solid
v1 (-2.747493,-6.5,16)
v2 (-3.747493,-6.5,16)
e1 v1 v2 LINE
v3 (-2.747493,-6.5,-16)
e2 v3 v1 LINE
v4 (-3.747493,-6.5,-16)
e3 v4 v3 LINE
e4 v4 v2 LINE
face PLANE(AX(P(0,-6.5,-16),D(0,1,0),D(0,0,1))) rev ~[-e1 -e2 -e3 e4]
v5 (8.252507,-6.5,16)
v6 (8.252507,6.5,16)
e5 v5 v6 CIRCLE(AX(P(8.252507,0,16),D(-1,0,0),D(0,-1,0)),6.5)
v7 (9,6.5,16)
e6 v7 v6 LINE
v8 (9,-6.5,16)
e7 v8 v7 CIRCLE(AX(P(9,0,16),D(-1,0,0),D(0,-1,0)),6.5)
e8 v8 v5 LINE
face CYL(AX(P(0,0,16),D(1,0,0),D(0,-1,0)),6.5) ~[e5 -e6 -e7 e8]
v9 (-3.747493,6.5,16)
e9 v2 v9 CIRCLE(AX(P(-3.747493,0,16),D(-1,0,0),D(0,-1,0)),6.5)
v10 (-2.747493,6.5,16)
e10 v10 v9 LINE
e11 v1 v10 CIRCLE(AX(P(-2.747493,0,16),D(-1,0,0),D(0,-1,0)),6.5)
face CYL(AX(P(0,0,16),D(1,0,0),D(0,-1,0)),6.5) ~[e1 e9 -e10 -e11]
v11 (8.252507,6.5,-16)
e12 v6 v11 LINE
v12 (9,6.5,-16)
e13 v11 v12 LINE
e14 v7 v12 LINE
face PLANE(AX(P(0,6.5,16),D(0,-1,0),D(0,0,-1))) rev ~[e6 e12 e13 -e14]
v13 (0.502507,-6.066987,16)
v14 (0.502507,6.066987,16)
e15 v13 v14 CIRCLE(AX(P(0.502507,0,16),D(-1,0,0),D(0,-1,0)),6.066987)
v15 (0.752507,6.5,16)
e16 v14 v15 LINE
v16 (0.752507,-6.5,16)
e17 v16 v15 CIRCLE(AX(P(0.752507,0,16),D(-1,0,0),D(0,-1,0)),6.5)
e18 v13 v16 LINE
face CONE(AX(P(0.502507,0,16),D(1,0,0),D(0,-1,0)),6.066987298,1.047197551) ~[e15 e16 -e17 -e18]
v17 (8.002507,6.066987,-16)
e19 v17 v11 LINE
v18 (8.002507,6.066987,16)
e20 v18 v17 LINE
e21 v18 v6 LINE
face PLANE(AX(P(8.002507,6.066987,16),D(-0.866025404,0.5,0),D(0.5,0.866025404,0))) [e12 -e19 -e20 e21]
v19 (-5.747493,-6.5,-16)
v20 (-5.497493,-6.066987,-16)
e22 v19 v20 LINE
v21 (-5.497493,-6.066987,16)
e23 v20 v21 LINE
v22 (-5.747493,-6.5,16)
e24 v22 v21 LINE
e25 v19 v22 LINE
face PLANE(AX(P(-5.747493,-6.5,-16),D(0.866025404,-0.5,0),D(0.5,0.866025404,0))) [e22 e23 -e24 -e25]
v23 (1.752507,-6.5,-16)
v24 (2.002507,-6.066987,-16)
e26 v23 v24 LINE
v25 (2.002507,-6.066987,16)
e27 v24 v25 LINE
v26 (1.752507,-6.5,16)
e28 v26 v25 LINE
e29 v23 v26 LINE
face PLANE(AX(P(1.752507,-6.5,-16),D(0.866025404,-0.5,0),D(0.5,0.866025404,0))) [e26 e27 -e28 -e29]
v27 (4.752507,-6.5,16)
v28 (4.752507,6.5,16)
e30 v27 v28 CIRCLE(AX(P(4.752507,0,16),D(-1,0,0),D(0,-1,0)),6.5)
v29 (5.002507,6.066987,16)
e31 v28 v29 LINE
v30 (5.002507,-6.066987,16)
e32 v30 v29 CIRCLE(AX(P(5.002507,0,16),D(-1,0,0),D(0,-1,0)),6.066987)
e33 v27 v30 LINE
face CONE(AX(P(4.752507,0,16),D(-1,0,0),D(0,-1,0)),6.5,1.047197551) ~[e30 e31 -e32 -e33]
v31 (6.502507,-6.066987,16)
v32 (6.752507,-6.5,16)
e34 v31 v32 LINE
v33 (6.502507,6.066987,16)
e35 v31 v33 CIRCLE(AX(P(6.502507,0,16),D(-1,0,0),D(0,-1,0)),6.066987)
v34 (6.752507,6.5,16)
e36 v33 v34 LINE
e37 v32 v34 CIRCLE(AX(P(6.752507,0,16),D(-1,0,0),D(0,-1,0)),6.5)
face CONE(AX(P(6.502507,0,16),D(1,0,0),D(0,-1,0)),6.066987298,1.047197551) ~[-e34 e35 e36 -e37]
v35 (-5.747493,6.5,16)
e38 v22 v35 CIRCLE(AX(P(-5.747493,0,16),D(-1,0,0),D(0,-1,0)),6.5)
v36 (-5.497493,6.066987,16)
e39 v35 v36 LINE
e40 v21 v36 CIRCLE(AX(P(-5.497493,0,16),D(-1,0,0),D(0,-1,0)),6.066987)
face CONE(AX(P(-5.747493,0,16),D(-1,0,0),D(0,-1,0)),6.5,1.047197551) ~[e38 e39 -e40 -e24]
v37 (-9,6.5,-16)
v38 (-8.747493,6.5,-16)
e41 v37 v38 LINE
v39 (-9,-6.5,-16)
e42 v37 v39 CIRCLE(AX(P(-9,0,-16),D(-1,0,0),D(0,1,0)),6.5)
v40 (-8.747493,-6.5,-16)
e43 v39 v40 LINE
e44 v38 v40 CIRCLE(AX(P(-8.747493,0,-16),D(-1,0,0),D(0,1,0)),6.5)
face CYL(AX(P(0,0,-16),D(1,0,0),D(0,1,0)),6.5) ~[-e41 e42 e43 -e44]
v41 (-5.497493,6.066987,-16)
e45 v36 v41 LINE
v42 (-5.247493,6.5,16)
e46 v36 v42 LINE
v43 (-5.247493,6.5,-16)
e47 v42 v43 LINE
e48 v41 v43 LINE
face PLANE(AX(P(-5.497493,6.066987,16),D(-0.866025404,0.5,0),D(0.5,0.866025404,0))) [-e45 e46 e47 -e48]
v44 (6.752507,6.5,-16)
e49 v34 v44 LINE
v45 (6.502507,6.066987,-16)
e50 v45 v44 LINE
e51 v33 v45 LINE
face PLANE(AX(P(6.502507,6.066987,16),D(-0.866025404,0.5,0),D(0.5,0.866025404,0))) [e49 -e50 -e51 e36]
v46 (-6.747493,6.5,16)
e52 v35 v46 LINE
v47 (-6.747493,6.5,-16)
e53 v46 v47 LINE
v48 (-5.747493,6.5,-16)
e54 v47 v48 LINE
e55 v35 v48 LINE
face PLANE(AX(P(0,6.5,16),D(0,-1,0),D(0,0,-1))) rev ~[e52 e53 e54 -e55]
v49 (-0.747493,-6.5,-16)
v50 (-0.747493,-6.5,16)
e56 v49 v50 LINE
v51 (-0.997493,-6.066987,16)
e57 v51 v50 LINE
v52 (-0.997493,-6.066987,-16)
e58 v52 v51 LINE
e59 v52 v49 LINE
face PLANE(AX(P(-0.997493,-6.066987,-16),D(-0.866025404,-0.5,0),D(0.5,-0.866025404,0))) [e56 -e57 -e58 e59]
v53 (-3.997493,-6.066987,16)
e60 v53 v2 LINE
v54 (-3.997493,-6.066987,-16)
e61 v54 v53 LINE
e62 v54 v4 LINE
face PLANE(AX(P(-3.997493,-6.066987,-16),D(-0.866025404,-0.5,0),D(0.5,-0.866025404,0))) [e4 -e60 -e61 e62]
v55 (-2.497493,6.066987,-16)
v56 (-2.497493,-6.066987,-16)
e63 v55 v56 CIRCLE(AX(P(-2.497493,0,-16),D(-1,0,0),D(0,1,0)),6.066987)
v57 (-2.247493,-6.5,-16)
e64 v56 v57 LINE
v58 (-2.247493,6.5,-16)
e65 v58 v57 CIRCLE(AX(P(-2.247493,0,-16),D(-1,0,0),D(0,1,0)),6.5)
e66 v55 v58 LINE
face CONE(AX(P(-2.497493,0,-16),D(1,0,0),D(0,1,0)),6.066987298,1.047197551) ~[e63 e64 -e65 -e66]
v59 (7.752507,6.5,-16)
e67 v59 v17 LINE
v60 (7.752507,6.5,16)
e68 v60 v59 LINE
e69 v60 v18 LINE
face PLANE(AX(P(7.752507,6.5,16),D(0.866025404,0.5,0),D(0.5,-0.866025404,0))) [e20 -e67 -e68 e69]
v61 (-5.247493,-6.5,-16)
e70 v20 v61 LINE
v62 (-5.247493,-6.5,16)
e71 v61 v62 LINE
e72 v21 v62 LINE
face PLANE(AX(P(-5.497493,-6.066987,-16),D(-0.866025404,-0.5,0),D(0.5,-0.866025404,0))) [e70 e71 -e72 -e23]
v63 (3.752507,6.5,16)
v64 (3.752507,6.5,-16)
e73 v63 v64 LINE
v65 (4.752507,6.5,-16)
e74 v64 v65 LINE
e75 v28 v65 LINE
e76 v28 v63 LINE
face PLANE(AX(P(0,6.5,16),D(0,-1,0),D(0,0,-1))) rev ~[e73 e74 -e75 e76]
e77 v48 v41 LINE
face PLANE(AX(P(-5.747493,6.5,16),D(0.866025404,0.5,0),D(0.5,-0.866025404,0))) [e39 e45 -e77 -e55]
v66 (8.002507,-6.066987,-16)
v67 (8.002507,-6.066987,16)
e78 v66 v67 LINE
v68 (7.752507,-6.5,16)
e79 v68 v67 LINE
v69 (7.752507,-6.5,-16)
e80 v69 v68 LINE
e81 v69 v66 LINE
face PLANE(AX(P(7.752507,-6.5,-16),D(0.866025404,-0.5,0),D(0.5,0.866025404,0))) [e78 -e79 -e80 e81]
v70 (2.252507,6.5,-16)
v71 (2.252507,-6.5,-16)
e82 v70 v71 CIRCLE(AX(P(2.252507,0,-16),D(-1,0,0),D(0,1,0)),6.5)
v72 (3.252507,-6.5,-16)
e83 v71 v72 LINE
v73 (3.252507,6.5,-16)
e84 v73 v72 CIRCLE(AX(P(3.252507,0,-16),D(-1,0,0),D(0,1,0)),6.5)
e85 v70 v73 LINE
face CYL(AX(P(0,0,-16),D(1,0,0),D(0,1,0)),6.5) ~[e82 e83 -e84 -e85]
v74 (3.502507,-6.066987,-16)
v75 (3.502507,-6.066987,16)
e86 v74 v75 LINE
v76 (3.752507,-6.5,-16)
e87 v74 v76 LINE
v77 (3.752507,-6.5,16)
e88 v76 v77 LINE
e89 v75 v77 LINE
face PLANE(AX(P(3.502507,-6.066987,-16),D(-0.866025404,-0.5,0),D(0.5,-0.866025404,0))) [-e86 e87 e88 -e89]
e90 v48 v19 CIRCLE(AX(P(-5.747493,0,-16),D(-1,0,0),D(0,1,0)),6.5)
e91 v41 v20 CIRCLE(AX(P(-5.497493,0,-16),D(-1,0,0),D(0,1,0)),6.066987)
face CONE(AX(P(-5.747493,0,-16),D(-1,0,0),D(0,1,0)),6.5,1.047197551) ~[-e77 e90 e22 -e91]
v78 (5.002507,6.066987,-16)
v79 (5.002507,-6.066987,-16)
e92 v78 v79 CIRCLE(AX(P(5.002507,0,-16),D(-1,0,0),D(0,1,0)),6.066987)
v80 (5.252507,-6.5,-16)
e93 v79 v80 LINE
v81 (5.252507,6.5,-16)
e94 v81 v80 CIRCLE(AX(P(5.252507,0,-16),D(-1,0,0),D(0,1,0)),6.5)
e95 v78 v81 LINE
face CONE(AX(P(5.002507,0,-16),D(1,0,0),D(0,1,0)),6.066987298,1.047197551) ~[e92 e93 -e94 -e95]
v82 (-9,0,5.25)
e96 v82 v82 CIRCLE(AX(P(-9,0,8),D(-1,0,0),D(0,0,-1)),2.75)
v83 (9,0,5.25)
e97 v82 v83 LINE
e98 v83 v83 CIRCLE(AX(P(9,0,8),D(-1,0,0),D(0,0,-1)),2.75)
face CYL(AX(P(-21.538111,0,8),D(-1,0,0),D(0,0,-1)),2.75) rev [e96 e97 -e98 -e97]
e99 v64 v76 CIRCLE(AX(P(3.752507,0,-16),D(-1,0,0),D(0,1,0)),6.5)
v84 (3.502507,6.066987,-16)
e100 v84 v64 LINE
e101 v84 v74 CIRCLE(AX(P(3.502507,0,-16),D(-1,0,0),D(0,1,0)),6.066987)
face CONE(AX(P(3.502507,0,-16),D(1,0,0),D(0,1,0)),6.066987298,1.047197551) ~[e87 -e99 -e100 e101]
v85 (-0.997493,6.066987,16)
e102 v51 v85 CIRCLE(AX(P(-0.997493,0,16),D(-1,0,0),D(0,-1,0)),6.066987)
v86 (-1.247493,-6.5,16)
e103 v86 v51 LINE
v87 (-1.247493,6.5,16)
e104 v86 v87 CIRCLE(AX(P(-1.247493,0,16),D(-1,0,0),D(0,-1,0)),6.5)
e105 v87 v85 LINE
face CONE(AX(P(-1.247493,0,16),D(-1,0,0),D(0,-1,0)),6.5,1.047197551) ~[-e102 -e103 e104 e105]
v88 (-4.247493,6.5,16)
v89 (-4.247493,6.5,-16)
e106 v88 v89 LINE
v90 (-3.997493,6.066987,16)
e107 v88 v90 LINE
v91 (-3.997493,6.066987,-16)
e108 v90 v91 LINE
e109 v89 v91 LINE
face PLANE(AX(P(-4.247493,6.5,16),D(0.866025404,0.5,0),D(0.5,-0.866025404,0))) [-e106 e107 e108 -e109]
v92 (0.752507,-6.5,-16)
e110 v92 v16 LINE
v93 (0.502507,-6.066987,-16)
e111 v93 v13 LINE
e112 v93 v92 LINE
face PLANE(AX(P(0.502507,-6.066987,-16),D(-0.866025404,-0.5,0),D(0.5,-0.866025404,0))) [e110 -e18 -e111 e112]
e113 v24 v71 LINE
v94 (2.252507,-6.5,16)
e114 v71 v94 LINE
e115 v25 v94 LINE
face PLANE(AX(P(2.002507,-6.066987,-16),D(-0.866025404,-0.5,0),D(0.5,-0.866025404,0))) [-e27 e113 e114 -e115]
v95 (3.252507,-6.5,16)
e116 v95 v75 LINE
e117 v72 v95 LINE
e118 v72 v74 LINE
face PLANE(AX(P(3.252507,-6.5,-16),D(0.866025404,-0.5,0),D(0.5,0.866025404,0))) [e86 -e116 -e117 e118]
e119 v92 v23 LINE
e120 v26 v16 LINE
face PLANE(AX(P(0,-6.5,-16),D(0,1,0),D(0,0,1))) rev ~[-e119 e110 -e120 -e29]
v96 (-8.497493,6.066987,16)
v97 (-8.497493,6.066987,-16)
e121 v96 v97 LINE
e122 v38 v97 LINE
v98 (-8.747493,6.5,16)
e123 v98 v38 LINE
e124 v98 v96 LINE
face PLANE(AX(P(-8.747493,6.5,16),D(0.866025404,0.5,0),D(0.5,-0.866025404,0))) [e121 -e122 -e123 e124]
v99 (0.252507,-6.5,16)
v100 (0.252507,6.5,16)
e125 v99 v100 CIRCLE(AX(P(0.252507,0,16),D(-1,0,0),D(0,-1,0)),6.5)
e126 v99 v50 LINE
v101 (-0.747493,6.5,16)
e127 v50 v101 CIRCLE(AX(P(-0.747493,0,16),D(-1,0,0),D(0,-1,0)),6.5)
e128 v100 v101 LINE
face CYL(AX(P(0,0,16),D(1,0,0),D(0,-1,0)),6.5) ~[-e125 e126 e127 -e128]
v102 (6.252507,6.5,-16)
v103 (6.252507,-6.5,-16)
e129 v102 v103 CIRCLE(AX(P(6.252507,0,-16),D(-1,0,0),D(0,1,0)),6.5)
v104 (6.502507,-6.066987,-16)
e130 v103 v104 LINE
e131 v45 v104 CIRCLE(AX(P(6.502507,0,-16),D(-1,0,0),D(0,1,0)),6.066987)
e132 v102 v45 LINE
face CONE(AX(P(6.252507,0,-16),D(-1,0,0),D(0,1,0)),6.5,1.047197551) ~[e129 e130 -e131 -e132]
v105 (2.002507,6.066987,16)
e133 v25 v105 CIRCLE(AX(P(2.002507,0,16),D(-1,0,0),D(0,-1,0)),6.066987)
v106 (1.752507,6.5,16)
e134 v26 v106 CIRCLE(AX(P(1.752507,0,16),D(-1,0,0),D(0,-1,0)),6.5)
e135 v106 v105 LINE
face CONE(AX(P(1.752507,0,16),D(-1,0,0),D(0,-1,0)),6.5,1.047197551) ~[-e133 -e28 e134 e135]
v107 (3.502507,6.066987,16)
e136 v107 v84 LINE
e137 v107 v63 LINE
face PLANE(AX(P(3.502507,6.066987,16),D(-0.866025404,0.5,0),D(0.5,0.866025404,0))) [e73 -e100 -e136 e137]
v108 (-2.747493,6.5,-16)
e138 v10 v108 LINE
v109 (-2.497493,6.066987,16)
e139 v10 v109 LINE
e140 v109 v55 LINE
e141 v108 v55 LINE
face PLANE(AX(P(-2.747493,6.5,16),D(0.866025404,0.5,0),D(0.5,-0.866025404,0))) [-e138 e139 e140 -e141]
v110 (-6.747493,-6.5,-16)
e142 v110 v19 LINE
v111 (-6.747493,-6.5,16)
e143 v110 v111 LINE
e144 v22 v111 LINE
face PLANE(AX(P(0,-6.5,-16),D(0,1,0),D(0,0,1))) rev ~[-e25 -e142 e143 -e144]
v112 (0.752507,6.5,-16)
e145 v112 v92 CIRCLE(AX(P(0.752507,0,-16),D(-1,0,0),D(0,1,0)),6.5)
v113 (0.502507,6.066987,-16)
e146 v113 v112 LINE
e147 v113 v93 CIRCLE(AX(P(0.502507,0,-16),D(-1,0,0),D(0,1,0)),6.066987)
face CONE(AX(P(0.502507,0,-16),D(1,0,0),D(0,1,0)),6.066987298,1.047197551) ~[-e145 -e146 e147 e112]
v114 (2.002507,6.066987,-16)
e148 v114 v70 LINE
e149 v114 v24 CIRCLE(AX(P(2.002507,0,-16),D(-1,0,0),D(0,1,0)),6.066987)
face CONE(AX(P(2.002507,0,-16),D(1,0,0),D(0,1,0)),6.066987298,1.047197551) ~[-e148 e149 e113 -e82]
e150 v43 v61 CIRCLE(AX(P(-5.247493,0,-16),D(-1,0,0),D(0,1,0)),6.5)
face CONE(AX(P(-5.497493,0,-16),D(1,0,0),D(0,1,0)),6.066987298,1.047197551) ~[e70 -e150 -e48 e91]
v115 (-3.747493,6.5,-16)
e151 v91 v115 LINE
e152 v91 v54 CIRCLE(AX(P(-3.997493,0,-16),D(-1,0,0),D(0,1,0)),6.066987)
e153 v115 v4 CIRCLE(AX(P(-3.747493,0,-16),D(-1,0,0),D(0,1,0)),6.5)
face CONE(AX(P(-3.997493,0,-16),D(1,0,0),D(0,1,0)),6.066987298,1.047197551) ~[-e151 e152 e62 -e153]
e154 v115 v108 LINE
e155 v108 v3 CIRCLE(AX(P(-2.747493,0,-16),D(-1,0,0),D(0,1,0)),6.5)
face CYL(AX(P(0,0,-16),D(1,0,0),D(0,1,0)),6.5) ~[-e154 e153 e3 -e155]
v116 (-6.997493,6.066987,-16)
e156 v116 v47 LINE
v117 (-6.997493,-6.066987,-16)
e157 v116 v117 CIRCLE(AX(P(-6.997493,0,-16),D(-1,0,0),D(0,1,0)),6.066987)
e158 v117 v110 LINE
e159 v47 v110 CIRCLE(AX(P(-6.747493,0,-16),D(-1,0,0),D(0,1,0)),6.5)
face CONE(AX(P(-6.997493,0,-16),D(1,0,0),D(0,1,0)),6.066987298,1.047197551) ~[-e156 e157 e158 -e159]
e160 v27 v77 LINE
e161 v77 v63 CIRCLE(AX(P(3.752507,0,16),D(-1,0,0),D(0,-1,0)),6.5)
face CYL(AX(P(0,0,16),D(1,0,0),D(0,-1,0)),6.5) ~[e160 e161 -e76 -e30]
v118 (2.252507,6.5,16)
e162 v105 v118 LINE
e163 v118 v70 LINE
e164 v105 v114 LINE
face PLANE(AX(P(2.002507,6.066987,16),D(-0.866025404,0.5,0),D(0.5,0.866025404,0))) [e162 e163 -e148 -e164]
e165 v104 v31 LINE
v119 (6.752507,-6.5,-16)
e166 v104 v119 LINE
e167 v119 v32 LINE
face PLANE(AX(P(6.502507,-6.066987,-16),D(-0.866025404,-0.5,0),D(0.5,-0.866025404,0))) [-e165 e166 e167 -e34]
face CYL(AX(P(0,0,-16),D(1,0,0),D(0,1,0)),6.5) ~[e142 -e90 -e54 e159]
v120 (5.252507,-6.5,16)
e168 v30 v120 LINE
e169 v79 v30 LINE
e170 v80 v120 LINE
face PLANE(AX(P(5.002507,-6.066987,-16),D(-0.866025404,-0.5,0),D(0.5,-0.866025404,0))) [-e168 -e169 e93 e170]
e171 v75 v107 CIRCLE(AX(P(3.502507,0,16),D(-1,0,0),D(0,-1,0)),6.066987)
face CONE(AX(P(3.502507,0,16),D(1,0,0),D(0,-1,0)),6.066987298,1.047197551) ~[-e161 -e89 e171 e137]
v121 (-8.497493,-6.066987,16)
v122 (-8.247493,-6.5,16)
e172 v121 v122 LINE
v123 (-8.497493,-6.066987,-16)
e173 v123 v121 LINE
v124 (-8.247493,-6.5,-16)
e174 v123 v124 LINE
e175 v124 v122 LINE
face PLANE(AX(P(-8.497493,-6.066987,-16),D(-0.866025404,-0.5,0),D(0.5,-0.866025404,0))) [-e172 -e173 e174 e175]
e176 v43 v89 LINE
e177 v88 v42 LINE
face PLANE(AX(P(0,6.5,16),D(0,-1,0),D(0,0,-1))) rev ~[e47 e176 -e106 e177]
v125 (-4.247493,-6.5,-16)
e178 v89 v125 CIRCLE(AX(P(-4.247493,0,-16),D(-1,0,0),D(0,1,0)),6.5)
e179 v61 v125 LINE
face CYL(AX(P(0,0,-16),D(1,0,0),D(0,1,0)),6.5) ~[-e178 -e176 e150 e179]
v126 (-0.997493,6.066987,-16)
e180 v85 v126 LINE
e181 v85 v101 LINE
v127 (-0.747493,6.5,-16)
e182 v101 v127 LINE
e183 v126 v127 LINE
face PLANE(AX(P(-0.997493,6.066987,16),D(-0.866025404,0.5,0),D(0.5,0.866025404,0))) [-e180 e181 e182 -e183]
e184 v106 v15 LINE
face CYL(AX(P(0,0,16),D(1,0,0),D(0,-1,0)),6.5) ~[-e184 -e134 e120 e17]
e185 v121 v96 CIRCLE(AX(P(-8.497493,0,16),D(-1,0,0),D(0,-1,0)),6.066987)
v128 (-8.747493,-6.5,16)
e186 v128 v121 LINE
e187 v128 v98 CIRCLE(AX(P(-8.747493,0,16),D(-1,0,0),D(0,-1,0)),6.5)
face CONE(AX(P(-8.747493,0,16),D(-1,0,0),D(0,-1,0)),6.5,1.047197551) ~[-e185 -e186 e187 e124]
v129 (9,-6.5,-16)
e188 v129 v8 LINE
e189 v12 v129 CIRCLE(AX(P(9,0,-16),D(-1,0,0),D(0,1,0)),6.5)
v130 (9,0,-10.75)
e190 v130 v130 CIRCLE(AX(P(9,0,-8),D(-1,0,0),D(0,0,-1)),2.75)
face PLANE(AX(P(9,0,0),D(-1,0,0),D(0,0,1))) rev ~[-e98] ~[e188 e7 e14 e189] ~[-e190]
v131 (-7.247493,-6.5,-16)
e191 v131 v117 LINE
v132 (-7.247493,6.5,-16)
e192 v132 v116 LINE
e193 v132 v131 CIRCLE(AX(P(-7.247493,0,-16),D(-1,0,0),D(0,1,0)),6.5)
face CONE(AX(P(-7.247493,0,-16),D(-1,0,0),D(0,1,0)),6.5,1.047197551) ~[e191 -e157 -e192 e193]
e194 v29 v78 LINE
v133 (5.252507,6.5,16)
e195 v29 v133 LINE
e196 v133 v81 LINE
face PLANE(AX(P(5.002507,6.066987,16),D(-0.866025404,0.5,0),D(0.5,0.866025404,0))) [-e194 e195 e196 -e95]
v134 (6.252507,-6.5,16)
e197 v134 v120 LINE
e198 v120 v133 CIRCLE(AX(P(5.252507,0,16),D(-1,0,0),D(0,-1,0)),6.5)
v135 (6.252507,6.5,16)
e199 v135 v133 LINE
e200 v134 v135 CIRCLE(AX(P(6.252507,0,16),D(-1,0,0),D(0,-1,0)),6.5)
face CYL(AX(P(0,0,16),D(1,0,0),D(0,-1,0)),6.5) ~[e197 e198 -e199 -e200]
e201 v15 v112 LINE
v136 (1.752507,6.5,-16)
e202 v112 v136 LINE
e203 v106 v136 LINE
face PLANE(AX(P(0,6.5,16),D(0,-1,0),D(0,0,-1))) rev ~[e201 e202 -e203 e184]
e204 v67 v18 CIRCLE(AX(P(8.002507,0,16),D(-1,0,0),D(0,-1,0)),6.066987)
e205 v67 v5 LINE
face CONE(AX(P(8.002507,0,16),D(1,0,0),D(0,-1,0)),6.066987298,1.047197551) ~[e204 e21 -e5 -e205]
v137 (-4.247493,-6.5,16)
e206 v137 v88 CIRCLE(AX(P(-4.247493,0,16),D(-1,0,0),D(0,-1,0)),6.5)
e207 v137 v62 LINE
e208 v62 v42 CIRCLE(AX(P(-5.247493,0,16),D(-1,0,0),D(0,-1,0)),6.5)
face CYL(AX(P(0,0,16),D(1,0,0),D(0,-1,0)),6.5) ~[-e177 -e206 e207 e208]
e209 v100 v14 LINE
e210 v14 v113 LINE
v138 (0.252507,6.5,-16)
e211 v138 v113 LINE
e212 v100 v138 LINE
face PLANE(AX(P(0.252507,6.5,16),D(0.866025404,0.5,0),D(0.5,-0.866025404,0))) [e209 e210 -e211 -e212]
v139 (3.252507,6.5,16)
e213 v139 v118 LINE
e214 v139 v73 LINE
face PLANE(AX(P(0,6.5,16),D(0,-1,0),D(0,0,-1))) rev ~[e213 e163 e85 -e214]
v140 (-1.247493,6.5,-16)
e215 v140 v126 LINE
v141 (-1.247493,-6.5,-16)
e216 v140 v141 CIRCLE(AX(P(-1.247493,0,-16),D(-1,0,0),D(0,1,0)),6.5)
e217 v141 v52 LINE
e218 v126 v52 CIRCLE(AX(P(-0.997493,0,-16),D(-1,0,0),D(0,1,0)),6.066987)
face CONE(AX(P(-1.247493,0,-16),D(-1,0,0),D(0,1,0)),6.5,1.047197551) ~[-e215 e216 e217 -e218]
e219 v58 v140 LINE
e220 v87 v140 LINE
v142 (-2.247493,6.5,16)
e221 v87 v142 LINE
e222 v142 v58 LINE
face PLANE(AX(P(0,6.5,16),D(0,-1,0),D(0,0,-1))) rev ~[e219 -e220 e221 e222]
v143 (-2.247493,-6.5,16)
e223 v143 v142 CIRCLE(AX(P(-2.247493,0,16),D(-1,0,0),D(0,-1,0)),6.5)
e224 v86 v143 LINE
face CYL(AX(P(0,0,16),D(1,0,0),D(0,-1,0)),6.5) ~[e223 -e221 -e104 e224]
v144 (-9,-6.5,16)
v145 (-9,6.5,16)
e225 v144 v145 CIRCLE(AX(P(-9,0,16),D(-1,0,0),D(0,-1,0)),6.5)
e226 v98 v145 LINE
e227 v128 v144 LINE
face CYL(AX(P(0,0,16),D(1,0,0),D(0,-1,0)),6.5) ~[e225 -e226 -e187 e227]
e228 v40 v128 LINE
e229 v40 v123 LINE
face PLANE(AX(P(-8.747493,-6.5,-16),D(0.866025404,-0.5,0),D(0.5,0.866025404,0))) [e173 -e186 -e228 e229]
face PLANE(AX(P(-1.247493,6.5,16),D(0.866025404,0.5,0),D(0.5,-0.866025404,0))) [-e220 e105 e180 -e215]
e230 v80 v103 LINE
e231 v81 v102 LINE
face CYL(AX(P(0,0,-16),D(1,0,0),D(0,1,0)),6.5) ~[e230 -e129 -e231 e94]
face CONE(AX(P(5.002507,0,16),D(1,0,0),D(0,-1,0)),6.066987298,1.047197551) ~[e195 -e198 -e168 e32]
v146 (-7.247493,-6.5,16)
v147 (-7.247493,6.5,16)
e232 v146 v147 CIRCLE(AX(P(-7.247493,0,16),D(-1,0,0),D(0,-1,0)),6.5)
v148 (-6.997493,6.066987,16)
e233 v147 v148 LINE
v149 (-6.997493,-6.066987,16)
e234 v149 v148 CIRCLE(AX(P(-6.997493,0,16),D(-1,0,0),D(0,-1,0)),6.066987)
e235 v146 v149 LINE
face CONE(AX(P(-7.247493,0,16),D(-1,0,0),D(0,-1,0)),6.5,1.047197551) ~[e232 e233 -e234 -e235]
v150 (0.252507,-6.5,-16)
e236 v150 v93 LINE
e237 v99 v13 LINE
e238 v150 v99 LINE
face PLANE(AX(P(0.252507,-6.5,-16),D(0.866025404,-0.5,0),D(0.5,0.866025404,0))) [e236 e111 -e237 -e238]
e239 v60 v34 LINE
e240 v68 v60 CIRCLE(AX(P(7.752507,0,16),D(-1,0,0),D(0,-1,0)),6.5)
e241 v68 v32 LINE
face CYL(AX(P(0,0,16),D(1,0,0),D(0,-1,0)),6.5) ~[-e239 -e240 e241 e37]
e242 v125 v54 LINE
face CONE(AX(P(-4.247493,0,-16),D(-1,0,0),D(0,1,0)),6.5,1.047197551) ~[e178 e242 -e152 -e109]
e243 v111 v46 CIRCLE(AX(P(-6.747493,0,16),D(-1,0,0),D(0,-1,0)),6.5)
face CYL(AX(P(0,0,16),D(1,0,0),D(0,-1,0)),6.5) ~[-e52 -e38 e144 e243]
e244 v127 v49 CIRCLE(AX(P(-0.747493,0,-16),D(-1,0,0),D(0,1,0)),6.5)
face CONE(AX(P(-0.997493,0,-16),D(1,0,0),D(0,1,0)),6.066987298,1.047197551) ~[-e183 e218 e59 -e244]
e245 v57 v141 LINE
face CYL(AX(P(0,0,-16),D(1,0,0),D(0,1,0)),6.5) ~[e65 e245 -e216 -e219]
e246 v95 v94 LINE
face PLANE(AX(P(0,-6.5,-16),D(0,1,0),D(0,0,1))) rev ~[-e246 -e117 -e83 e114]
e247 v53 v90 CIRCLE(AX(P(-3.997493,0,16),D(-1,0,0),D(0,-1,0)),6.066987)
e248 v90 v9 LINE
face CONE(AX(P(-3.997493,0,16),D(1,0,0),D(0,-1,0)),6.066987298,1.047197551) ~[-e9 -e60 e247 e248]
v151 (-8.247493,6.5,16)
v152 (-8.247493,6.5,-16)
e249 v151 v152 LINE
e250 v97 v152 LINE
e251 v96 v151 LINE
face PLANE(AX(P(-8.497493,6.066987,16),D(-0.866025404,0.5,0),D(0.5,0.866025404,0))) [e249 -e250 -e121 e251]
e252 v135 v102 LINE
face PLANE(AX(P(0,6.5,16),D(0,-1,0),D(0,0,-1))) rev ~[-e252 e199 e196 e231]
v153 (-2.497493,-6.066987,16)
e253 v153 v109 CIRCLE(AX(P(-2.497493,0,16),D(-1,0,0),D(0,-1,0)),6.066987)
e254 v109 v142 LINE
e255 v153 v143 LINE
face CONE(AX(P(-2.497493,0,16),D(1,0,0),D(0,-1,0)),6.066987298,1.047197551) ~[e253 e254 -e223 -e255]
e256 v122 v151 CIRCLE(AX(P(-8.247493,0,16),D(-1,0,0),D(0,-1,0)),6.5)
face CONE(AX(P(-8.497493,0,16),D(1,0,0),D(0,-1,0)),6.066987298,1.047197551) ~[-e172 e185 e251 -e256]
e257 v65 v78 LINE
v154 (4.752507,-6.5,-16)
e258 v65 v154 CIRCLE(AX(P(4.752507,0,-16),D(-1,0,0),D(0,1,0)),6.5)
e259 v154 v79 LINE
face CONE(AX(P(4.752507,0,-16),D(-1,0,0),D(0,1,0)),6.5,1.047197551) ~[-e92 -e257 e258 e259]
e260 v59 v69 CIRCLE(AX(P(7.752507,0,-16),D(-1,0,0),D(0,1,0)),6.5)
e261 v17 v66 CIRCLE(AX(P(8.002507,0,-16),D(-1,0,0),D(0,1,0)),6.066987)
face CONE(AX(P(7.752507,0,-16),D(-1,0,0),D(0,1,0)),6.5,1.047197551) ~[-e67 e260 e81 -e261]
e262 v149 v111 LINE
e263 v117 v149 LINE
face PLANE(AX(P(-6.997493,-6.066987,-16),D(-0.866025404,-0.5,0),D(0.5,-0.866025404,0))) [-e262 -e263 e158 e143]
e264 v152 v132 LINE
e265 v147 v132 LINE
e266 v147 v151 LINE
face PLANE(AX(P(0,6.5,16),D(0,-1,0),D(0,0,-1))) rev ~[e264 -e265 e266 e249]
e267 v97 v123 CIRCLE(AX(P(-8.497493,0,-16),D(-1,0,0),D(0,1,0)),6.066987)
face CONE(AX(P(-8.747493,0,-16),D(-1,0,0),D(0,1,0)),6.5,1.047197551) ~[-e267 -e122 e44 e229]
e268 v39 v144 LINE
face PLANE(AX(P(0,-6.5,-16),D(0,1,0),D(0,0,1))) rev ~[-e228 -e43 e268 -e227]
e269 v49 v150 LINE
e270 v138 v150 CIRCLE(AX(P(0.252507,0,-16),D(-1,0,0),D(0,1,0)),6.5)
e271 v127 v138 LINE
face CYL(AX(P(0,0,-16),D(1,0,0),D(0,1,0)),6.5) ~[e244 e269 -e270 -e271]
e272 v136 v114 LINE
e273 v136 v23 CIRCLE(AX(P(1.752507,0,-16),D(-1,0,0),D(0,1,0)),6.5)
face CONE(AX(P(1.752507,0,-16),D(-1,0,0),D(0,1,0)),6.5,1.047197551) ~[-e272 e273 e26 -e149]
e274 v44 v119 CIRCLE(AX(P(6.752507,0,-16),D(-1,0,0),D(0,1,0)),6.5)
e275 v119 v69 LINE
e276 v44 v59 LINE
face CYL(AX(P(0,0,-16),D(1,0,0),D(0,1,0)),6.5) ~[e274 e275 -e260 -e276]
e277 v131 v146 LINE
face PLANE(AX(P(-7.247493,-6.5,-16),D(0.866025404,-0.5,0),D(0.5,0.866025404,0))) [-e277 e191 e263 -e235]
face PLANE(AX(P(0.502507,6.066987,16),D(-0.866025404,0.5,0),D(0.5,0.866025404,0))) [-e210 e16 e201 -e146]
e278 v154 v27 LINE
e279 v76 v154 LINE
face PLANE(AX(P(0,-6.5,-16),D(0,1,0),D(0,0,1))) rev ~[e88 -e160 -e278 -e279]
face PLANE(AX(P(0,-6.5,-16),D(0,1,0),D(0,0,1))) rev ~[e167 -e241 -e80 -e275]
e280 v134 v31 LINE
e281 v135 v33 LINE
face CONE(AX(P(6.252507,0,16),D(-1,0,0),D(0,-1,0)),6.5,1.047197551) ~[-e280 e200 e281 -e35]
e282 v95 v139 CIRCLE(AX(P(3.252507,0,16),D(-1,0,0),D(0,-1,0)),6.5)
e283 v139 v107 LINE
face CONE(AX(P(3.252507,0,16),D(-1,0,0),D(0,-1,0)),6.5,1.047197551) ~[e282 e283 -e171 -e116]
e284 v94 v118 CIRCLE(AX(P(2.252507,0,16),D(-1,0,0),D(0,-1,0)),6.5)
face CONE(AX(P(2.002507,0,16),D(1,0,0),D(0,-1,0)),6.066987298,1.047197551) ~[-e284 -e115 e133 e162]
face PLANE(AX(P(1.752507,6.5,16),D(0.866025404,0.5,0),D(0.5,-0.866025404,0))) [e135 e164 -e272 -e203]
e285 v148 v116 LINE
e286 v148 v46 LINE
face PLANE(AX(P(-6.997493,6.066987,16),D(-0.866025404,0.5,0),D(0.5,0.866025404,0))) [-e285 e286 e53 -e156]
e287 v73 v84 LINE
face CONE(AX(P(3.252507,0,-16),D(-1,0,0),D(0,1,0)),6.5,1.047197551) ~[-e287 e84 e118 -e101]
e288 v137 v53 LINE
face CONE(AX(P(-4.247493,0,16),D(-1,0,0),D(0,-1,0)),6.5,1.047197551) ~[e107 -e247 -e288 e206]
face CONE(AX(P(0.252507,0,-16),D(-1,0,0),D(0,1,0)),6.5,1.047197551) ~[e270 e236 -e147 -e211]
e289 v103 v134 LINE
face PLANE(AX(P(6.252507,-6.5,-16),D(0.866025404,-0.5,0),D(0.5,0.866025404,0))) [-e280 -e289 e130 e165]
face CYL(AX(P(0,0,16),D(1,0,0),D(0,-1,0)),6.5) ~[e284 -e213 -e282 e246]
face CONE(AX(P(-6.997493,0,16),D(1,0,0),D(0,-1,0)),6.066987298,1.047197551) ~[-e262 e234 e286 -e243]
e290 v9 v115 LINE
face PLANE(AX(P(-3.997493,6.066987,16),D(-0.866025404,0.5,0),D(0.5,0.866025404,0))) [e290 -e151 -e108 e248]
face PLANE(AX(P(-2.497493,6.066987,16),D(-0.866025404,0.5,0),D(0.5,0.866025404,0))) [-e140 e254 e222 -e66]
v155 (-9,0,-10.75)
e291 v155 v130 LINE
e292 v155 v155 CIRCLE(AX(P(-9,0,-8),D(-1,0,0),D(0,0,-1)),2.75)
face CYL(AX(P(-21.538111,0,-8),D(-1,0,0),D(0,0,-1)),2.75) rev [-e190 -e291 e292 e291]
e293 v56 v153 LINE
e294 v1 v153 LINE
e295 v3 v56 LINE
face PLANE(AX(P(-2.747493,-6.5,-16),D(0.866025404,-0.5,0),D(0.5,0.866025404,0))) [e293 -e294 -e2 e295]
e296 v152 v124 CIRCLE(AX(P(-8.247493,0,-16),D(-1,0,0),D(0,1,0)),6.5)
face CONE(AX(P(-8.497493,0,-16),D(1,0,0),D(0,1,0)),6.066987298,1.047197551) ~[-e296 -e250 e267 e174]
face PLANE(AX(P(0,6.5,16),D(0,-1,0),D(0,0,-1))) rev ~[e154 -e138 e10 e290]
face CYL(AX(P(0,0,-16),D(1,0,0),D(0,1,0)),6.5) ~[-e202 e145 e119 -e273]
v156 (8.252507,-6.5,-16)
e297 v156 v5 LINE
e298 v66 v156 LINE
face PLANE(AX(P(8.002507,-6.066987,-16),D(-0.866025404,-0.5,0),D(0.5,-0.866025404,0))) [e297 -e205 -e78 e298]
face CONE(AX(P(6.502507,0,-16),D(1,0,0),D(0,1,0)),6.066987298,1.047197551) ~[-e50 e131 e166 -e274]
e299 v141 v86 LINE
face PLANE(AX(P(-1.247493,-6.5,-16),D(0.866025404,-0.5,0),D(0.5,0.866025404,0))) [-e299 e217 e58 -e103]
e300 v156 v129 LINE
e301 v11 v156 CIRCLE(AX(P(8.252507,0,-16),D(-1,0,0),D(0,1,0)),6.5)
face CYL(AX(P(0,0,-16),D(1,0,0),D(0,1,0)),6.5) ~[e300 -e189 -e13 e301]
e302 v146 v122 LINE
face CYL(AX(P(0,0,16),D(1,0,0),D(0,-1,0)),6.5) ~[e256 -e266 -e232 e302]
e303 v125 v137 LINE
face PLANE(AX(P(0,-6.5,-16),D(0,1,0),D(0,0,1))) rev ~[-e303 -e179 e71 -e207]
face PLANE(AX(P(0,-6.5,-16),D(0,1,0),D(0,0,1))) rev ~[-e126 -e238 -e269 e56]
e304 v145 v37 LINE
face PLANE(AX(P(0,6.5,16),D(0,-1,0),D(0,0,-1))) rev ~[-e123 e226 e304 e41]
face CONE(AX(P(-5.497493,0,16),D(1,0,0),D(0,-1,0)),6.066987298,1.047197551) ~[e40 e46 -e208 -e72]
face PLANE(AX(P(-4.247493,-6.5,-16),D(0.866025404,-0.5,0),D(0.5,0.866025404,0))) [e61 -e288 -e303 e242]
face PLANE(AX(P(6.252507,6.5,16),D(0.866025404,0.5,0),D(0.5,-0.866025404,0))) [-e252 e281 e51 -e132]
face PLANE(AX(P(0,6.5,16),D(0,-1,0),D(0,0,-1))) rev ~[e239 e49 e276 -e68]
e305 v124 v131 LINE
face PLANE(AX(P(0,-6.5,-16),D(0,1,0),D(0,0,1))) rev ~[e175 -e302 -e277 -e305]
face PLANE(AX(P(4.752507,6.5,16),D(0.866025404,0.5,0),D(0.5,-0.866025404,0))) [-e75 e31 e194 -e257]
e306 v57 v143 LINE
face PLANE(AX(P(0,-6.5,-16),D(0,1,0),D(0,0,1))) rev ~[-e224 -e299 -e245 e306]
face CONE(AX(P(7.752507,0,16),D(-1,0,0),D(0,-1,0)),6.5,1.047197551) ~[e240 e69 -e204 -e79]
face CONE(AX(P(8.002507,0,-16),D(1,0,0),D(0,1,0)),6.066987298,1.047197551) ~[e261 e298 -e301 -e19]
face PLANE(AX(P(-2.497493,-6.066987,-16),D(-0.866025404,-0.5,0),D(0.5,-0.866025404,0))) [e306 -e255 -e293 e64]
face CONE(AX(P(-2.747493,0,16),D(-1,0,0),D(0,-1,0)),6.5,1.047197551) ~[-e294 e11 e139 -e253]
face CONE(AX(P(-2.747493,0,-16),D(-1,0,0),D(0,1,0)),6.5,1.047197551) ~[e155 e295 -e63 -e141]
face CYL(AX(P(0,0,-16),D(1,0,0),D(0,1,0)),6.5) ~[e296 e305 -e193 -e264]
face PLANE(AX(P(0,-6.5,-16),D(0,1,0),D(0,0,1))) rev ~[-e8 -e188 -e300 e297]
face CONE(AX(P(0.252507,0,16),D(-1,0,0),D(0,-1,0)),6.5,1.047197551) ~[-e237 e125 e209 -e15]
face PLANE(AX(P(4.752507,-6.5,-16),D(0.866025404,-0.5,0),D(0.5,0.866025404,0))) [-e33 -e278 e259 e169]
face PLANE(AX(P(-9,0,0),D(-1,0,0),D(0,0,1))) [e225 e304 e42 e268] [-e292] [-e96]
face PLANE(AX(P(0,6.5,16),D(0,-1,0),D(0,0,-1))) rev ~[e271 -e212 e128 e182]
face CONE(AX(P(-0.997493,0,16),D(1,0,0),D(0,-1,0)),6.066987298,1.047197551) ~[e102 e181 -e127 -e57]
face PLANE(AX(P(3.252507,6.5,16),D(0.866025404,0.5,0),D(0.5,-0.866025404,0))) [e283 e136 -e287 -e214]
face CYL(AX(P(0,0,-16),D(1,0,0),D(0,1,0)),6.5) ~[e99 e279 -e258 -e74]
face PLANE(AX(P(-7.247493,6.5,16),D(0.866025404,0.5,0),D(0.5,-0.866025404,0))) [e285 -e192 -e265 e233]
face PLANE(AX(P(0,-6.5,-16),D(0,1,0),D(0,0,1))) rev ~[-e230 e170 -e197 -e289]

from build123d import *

# Parameters (mm, degrees)
BOSS_EXTRUDE1_DEPTH     = 9
LPATTERN1_COUNT         = 12
LPATTERN1_PITCH         = 1.5
CUT_EXTRUDE1_DEPTH      = 30.538110975
CUT_EXTRUDE1_DEPTH_BACK = 30.538110975
SKETCH5_R               = 2.75


with BuildPart() as part:
    # Sketch2 → Boss-Extrude1 (new, symmetric)
    with BuildSketch(Plane(origin=(0, 0, 0), x_dir=(0, 0, -1), z_dir=(1, 0, 0))):
        with BuildLine():
            Line((16, -6.5), (-16, -6.5))
            ThreePointArc((-16, -6.5), (-22.5, 0), (-16, 6.5))
            Line((-16, 6.5), (16, 6.5))
            ThreePointArc((16, 6.5), (22.5, 0), (16, -6.5))
        make_face()
    extrude(amount=BOSS_EXTRUDE1_DEPTH, both=True)

    # Cut-Sweep1: sweep along a path in Sketch4
    with BuildLine(Plane.ZY.offset(9)) as cut_sweep1_path:
        Line((-16, -6.5), (16, -6.5))
        ThreePointArc((16, -6.5), (22.5, 0), (16, 6.5))
        Line((16, 6.5), (-16, 6.5))
        ThreePointArc((-16, 6.5), (-22.5, 0), (-16, -6.5))
    # Sketch3 → Cut-Sweep1 (sweep, cut)
    with BuildSketch(Plane.XY):
        Polygon((-8.747493318, 6.5), (-8.497493318, 6.066987298), (-8.247493318, 6.5), align=None)
    cut_sweep1 = sweep(path=cut_sweep1_path.line, mode=Mode.SUBTRACT)

    # LPattern1: Cut-Sweep1 ×12
    with Locations(*[(i * LPATTERN1_PITCH, 0, 0) for i in range(1, LPATTERN1_COUNT)]):
        add(cut_sweep1, mode=Mode.SUBTRACT)

    # Sketch5 → Cut-Extrude1 (cut, two sides: drawn at the far end of the back side and taken through both)
    with BuildSketch(Plane(origin=(9, 0, 0), x_dir=(0, 0, -1), z_dir=(1, 0, 0)).offset(-CUT_EXTRUDE1_DEPTH_BACK)):
        with Locations((-8, 0)):
            Circle(SKETCH5_R)
        with Locations((8, 0)):
            Circle(SKETCH5_R)
    extrude(amount=CUT_EXTRUDE1_DEPTH + CUT_EXTRUDE1_DEPTH_BACK, mode=Mode.SUBTRACT)


solid = part.part
